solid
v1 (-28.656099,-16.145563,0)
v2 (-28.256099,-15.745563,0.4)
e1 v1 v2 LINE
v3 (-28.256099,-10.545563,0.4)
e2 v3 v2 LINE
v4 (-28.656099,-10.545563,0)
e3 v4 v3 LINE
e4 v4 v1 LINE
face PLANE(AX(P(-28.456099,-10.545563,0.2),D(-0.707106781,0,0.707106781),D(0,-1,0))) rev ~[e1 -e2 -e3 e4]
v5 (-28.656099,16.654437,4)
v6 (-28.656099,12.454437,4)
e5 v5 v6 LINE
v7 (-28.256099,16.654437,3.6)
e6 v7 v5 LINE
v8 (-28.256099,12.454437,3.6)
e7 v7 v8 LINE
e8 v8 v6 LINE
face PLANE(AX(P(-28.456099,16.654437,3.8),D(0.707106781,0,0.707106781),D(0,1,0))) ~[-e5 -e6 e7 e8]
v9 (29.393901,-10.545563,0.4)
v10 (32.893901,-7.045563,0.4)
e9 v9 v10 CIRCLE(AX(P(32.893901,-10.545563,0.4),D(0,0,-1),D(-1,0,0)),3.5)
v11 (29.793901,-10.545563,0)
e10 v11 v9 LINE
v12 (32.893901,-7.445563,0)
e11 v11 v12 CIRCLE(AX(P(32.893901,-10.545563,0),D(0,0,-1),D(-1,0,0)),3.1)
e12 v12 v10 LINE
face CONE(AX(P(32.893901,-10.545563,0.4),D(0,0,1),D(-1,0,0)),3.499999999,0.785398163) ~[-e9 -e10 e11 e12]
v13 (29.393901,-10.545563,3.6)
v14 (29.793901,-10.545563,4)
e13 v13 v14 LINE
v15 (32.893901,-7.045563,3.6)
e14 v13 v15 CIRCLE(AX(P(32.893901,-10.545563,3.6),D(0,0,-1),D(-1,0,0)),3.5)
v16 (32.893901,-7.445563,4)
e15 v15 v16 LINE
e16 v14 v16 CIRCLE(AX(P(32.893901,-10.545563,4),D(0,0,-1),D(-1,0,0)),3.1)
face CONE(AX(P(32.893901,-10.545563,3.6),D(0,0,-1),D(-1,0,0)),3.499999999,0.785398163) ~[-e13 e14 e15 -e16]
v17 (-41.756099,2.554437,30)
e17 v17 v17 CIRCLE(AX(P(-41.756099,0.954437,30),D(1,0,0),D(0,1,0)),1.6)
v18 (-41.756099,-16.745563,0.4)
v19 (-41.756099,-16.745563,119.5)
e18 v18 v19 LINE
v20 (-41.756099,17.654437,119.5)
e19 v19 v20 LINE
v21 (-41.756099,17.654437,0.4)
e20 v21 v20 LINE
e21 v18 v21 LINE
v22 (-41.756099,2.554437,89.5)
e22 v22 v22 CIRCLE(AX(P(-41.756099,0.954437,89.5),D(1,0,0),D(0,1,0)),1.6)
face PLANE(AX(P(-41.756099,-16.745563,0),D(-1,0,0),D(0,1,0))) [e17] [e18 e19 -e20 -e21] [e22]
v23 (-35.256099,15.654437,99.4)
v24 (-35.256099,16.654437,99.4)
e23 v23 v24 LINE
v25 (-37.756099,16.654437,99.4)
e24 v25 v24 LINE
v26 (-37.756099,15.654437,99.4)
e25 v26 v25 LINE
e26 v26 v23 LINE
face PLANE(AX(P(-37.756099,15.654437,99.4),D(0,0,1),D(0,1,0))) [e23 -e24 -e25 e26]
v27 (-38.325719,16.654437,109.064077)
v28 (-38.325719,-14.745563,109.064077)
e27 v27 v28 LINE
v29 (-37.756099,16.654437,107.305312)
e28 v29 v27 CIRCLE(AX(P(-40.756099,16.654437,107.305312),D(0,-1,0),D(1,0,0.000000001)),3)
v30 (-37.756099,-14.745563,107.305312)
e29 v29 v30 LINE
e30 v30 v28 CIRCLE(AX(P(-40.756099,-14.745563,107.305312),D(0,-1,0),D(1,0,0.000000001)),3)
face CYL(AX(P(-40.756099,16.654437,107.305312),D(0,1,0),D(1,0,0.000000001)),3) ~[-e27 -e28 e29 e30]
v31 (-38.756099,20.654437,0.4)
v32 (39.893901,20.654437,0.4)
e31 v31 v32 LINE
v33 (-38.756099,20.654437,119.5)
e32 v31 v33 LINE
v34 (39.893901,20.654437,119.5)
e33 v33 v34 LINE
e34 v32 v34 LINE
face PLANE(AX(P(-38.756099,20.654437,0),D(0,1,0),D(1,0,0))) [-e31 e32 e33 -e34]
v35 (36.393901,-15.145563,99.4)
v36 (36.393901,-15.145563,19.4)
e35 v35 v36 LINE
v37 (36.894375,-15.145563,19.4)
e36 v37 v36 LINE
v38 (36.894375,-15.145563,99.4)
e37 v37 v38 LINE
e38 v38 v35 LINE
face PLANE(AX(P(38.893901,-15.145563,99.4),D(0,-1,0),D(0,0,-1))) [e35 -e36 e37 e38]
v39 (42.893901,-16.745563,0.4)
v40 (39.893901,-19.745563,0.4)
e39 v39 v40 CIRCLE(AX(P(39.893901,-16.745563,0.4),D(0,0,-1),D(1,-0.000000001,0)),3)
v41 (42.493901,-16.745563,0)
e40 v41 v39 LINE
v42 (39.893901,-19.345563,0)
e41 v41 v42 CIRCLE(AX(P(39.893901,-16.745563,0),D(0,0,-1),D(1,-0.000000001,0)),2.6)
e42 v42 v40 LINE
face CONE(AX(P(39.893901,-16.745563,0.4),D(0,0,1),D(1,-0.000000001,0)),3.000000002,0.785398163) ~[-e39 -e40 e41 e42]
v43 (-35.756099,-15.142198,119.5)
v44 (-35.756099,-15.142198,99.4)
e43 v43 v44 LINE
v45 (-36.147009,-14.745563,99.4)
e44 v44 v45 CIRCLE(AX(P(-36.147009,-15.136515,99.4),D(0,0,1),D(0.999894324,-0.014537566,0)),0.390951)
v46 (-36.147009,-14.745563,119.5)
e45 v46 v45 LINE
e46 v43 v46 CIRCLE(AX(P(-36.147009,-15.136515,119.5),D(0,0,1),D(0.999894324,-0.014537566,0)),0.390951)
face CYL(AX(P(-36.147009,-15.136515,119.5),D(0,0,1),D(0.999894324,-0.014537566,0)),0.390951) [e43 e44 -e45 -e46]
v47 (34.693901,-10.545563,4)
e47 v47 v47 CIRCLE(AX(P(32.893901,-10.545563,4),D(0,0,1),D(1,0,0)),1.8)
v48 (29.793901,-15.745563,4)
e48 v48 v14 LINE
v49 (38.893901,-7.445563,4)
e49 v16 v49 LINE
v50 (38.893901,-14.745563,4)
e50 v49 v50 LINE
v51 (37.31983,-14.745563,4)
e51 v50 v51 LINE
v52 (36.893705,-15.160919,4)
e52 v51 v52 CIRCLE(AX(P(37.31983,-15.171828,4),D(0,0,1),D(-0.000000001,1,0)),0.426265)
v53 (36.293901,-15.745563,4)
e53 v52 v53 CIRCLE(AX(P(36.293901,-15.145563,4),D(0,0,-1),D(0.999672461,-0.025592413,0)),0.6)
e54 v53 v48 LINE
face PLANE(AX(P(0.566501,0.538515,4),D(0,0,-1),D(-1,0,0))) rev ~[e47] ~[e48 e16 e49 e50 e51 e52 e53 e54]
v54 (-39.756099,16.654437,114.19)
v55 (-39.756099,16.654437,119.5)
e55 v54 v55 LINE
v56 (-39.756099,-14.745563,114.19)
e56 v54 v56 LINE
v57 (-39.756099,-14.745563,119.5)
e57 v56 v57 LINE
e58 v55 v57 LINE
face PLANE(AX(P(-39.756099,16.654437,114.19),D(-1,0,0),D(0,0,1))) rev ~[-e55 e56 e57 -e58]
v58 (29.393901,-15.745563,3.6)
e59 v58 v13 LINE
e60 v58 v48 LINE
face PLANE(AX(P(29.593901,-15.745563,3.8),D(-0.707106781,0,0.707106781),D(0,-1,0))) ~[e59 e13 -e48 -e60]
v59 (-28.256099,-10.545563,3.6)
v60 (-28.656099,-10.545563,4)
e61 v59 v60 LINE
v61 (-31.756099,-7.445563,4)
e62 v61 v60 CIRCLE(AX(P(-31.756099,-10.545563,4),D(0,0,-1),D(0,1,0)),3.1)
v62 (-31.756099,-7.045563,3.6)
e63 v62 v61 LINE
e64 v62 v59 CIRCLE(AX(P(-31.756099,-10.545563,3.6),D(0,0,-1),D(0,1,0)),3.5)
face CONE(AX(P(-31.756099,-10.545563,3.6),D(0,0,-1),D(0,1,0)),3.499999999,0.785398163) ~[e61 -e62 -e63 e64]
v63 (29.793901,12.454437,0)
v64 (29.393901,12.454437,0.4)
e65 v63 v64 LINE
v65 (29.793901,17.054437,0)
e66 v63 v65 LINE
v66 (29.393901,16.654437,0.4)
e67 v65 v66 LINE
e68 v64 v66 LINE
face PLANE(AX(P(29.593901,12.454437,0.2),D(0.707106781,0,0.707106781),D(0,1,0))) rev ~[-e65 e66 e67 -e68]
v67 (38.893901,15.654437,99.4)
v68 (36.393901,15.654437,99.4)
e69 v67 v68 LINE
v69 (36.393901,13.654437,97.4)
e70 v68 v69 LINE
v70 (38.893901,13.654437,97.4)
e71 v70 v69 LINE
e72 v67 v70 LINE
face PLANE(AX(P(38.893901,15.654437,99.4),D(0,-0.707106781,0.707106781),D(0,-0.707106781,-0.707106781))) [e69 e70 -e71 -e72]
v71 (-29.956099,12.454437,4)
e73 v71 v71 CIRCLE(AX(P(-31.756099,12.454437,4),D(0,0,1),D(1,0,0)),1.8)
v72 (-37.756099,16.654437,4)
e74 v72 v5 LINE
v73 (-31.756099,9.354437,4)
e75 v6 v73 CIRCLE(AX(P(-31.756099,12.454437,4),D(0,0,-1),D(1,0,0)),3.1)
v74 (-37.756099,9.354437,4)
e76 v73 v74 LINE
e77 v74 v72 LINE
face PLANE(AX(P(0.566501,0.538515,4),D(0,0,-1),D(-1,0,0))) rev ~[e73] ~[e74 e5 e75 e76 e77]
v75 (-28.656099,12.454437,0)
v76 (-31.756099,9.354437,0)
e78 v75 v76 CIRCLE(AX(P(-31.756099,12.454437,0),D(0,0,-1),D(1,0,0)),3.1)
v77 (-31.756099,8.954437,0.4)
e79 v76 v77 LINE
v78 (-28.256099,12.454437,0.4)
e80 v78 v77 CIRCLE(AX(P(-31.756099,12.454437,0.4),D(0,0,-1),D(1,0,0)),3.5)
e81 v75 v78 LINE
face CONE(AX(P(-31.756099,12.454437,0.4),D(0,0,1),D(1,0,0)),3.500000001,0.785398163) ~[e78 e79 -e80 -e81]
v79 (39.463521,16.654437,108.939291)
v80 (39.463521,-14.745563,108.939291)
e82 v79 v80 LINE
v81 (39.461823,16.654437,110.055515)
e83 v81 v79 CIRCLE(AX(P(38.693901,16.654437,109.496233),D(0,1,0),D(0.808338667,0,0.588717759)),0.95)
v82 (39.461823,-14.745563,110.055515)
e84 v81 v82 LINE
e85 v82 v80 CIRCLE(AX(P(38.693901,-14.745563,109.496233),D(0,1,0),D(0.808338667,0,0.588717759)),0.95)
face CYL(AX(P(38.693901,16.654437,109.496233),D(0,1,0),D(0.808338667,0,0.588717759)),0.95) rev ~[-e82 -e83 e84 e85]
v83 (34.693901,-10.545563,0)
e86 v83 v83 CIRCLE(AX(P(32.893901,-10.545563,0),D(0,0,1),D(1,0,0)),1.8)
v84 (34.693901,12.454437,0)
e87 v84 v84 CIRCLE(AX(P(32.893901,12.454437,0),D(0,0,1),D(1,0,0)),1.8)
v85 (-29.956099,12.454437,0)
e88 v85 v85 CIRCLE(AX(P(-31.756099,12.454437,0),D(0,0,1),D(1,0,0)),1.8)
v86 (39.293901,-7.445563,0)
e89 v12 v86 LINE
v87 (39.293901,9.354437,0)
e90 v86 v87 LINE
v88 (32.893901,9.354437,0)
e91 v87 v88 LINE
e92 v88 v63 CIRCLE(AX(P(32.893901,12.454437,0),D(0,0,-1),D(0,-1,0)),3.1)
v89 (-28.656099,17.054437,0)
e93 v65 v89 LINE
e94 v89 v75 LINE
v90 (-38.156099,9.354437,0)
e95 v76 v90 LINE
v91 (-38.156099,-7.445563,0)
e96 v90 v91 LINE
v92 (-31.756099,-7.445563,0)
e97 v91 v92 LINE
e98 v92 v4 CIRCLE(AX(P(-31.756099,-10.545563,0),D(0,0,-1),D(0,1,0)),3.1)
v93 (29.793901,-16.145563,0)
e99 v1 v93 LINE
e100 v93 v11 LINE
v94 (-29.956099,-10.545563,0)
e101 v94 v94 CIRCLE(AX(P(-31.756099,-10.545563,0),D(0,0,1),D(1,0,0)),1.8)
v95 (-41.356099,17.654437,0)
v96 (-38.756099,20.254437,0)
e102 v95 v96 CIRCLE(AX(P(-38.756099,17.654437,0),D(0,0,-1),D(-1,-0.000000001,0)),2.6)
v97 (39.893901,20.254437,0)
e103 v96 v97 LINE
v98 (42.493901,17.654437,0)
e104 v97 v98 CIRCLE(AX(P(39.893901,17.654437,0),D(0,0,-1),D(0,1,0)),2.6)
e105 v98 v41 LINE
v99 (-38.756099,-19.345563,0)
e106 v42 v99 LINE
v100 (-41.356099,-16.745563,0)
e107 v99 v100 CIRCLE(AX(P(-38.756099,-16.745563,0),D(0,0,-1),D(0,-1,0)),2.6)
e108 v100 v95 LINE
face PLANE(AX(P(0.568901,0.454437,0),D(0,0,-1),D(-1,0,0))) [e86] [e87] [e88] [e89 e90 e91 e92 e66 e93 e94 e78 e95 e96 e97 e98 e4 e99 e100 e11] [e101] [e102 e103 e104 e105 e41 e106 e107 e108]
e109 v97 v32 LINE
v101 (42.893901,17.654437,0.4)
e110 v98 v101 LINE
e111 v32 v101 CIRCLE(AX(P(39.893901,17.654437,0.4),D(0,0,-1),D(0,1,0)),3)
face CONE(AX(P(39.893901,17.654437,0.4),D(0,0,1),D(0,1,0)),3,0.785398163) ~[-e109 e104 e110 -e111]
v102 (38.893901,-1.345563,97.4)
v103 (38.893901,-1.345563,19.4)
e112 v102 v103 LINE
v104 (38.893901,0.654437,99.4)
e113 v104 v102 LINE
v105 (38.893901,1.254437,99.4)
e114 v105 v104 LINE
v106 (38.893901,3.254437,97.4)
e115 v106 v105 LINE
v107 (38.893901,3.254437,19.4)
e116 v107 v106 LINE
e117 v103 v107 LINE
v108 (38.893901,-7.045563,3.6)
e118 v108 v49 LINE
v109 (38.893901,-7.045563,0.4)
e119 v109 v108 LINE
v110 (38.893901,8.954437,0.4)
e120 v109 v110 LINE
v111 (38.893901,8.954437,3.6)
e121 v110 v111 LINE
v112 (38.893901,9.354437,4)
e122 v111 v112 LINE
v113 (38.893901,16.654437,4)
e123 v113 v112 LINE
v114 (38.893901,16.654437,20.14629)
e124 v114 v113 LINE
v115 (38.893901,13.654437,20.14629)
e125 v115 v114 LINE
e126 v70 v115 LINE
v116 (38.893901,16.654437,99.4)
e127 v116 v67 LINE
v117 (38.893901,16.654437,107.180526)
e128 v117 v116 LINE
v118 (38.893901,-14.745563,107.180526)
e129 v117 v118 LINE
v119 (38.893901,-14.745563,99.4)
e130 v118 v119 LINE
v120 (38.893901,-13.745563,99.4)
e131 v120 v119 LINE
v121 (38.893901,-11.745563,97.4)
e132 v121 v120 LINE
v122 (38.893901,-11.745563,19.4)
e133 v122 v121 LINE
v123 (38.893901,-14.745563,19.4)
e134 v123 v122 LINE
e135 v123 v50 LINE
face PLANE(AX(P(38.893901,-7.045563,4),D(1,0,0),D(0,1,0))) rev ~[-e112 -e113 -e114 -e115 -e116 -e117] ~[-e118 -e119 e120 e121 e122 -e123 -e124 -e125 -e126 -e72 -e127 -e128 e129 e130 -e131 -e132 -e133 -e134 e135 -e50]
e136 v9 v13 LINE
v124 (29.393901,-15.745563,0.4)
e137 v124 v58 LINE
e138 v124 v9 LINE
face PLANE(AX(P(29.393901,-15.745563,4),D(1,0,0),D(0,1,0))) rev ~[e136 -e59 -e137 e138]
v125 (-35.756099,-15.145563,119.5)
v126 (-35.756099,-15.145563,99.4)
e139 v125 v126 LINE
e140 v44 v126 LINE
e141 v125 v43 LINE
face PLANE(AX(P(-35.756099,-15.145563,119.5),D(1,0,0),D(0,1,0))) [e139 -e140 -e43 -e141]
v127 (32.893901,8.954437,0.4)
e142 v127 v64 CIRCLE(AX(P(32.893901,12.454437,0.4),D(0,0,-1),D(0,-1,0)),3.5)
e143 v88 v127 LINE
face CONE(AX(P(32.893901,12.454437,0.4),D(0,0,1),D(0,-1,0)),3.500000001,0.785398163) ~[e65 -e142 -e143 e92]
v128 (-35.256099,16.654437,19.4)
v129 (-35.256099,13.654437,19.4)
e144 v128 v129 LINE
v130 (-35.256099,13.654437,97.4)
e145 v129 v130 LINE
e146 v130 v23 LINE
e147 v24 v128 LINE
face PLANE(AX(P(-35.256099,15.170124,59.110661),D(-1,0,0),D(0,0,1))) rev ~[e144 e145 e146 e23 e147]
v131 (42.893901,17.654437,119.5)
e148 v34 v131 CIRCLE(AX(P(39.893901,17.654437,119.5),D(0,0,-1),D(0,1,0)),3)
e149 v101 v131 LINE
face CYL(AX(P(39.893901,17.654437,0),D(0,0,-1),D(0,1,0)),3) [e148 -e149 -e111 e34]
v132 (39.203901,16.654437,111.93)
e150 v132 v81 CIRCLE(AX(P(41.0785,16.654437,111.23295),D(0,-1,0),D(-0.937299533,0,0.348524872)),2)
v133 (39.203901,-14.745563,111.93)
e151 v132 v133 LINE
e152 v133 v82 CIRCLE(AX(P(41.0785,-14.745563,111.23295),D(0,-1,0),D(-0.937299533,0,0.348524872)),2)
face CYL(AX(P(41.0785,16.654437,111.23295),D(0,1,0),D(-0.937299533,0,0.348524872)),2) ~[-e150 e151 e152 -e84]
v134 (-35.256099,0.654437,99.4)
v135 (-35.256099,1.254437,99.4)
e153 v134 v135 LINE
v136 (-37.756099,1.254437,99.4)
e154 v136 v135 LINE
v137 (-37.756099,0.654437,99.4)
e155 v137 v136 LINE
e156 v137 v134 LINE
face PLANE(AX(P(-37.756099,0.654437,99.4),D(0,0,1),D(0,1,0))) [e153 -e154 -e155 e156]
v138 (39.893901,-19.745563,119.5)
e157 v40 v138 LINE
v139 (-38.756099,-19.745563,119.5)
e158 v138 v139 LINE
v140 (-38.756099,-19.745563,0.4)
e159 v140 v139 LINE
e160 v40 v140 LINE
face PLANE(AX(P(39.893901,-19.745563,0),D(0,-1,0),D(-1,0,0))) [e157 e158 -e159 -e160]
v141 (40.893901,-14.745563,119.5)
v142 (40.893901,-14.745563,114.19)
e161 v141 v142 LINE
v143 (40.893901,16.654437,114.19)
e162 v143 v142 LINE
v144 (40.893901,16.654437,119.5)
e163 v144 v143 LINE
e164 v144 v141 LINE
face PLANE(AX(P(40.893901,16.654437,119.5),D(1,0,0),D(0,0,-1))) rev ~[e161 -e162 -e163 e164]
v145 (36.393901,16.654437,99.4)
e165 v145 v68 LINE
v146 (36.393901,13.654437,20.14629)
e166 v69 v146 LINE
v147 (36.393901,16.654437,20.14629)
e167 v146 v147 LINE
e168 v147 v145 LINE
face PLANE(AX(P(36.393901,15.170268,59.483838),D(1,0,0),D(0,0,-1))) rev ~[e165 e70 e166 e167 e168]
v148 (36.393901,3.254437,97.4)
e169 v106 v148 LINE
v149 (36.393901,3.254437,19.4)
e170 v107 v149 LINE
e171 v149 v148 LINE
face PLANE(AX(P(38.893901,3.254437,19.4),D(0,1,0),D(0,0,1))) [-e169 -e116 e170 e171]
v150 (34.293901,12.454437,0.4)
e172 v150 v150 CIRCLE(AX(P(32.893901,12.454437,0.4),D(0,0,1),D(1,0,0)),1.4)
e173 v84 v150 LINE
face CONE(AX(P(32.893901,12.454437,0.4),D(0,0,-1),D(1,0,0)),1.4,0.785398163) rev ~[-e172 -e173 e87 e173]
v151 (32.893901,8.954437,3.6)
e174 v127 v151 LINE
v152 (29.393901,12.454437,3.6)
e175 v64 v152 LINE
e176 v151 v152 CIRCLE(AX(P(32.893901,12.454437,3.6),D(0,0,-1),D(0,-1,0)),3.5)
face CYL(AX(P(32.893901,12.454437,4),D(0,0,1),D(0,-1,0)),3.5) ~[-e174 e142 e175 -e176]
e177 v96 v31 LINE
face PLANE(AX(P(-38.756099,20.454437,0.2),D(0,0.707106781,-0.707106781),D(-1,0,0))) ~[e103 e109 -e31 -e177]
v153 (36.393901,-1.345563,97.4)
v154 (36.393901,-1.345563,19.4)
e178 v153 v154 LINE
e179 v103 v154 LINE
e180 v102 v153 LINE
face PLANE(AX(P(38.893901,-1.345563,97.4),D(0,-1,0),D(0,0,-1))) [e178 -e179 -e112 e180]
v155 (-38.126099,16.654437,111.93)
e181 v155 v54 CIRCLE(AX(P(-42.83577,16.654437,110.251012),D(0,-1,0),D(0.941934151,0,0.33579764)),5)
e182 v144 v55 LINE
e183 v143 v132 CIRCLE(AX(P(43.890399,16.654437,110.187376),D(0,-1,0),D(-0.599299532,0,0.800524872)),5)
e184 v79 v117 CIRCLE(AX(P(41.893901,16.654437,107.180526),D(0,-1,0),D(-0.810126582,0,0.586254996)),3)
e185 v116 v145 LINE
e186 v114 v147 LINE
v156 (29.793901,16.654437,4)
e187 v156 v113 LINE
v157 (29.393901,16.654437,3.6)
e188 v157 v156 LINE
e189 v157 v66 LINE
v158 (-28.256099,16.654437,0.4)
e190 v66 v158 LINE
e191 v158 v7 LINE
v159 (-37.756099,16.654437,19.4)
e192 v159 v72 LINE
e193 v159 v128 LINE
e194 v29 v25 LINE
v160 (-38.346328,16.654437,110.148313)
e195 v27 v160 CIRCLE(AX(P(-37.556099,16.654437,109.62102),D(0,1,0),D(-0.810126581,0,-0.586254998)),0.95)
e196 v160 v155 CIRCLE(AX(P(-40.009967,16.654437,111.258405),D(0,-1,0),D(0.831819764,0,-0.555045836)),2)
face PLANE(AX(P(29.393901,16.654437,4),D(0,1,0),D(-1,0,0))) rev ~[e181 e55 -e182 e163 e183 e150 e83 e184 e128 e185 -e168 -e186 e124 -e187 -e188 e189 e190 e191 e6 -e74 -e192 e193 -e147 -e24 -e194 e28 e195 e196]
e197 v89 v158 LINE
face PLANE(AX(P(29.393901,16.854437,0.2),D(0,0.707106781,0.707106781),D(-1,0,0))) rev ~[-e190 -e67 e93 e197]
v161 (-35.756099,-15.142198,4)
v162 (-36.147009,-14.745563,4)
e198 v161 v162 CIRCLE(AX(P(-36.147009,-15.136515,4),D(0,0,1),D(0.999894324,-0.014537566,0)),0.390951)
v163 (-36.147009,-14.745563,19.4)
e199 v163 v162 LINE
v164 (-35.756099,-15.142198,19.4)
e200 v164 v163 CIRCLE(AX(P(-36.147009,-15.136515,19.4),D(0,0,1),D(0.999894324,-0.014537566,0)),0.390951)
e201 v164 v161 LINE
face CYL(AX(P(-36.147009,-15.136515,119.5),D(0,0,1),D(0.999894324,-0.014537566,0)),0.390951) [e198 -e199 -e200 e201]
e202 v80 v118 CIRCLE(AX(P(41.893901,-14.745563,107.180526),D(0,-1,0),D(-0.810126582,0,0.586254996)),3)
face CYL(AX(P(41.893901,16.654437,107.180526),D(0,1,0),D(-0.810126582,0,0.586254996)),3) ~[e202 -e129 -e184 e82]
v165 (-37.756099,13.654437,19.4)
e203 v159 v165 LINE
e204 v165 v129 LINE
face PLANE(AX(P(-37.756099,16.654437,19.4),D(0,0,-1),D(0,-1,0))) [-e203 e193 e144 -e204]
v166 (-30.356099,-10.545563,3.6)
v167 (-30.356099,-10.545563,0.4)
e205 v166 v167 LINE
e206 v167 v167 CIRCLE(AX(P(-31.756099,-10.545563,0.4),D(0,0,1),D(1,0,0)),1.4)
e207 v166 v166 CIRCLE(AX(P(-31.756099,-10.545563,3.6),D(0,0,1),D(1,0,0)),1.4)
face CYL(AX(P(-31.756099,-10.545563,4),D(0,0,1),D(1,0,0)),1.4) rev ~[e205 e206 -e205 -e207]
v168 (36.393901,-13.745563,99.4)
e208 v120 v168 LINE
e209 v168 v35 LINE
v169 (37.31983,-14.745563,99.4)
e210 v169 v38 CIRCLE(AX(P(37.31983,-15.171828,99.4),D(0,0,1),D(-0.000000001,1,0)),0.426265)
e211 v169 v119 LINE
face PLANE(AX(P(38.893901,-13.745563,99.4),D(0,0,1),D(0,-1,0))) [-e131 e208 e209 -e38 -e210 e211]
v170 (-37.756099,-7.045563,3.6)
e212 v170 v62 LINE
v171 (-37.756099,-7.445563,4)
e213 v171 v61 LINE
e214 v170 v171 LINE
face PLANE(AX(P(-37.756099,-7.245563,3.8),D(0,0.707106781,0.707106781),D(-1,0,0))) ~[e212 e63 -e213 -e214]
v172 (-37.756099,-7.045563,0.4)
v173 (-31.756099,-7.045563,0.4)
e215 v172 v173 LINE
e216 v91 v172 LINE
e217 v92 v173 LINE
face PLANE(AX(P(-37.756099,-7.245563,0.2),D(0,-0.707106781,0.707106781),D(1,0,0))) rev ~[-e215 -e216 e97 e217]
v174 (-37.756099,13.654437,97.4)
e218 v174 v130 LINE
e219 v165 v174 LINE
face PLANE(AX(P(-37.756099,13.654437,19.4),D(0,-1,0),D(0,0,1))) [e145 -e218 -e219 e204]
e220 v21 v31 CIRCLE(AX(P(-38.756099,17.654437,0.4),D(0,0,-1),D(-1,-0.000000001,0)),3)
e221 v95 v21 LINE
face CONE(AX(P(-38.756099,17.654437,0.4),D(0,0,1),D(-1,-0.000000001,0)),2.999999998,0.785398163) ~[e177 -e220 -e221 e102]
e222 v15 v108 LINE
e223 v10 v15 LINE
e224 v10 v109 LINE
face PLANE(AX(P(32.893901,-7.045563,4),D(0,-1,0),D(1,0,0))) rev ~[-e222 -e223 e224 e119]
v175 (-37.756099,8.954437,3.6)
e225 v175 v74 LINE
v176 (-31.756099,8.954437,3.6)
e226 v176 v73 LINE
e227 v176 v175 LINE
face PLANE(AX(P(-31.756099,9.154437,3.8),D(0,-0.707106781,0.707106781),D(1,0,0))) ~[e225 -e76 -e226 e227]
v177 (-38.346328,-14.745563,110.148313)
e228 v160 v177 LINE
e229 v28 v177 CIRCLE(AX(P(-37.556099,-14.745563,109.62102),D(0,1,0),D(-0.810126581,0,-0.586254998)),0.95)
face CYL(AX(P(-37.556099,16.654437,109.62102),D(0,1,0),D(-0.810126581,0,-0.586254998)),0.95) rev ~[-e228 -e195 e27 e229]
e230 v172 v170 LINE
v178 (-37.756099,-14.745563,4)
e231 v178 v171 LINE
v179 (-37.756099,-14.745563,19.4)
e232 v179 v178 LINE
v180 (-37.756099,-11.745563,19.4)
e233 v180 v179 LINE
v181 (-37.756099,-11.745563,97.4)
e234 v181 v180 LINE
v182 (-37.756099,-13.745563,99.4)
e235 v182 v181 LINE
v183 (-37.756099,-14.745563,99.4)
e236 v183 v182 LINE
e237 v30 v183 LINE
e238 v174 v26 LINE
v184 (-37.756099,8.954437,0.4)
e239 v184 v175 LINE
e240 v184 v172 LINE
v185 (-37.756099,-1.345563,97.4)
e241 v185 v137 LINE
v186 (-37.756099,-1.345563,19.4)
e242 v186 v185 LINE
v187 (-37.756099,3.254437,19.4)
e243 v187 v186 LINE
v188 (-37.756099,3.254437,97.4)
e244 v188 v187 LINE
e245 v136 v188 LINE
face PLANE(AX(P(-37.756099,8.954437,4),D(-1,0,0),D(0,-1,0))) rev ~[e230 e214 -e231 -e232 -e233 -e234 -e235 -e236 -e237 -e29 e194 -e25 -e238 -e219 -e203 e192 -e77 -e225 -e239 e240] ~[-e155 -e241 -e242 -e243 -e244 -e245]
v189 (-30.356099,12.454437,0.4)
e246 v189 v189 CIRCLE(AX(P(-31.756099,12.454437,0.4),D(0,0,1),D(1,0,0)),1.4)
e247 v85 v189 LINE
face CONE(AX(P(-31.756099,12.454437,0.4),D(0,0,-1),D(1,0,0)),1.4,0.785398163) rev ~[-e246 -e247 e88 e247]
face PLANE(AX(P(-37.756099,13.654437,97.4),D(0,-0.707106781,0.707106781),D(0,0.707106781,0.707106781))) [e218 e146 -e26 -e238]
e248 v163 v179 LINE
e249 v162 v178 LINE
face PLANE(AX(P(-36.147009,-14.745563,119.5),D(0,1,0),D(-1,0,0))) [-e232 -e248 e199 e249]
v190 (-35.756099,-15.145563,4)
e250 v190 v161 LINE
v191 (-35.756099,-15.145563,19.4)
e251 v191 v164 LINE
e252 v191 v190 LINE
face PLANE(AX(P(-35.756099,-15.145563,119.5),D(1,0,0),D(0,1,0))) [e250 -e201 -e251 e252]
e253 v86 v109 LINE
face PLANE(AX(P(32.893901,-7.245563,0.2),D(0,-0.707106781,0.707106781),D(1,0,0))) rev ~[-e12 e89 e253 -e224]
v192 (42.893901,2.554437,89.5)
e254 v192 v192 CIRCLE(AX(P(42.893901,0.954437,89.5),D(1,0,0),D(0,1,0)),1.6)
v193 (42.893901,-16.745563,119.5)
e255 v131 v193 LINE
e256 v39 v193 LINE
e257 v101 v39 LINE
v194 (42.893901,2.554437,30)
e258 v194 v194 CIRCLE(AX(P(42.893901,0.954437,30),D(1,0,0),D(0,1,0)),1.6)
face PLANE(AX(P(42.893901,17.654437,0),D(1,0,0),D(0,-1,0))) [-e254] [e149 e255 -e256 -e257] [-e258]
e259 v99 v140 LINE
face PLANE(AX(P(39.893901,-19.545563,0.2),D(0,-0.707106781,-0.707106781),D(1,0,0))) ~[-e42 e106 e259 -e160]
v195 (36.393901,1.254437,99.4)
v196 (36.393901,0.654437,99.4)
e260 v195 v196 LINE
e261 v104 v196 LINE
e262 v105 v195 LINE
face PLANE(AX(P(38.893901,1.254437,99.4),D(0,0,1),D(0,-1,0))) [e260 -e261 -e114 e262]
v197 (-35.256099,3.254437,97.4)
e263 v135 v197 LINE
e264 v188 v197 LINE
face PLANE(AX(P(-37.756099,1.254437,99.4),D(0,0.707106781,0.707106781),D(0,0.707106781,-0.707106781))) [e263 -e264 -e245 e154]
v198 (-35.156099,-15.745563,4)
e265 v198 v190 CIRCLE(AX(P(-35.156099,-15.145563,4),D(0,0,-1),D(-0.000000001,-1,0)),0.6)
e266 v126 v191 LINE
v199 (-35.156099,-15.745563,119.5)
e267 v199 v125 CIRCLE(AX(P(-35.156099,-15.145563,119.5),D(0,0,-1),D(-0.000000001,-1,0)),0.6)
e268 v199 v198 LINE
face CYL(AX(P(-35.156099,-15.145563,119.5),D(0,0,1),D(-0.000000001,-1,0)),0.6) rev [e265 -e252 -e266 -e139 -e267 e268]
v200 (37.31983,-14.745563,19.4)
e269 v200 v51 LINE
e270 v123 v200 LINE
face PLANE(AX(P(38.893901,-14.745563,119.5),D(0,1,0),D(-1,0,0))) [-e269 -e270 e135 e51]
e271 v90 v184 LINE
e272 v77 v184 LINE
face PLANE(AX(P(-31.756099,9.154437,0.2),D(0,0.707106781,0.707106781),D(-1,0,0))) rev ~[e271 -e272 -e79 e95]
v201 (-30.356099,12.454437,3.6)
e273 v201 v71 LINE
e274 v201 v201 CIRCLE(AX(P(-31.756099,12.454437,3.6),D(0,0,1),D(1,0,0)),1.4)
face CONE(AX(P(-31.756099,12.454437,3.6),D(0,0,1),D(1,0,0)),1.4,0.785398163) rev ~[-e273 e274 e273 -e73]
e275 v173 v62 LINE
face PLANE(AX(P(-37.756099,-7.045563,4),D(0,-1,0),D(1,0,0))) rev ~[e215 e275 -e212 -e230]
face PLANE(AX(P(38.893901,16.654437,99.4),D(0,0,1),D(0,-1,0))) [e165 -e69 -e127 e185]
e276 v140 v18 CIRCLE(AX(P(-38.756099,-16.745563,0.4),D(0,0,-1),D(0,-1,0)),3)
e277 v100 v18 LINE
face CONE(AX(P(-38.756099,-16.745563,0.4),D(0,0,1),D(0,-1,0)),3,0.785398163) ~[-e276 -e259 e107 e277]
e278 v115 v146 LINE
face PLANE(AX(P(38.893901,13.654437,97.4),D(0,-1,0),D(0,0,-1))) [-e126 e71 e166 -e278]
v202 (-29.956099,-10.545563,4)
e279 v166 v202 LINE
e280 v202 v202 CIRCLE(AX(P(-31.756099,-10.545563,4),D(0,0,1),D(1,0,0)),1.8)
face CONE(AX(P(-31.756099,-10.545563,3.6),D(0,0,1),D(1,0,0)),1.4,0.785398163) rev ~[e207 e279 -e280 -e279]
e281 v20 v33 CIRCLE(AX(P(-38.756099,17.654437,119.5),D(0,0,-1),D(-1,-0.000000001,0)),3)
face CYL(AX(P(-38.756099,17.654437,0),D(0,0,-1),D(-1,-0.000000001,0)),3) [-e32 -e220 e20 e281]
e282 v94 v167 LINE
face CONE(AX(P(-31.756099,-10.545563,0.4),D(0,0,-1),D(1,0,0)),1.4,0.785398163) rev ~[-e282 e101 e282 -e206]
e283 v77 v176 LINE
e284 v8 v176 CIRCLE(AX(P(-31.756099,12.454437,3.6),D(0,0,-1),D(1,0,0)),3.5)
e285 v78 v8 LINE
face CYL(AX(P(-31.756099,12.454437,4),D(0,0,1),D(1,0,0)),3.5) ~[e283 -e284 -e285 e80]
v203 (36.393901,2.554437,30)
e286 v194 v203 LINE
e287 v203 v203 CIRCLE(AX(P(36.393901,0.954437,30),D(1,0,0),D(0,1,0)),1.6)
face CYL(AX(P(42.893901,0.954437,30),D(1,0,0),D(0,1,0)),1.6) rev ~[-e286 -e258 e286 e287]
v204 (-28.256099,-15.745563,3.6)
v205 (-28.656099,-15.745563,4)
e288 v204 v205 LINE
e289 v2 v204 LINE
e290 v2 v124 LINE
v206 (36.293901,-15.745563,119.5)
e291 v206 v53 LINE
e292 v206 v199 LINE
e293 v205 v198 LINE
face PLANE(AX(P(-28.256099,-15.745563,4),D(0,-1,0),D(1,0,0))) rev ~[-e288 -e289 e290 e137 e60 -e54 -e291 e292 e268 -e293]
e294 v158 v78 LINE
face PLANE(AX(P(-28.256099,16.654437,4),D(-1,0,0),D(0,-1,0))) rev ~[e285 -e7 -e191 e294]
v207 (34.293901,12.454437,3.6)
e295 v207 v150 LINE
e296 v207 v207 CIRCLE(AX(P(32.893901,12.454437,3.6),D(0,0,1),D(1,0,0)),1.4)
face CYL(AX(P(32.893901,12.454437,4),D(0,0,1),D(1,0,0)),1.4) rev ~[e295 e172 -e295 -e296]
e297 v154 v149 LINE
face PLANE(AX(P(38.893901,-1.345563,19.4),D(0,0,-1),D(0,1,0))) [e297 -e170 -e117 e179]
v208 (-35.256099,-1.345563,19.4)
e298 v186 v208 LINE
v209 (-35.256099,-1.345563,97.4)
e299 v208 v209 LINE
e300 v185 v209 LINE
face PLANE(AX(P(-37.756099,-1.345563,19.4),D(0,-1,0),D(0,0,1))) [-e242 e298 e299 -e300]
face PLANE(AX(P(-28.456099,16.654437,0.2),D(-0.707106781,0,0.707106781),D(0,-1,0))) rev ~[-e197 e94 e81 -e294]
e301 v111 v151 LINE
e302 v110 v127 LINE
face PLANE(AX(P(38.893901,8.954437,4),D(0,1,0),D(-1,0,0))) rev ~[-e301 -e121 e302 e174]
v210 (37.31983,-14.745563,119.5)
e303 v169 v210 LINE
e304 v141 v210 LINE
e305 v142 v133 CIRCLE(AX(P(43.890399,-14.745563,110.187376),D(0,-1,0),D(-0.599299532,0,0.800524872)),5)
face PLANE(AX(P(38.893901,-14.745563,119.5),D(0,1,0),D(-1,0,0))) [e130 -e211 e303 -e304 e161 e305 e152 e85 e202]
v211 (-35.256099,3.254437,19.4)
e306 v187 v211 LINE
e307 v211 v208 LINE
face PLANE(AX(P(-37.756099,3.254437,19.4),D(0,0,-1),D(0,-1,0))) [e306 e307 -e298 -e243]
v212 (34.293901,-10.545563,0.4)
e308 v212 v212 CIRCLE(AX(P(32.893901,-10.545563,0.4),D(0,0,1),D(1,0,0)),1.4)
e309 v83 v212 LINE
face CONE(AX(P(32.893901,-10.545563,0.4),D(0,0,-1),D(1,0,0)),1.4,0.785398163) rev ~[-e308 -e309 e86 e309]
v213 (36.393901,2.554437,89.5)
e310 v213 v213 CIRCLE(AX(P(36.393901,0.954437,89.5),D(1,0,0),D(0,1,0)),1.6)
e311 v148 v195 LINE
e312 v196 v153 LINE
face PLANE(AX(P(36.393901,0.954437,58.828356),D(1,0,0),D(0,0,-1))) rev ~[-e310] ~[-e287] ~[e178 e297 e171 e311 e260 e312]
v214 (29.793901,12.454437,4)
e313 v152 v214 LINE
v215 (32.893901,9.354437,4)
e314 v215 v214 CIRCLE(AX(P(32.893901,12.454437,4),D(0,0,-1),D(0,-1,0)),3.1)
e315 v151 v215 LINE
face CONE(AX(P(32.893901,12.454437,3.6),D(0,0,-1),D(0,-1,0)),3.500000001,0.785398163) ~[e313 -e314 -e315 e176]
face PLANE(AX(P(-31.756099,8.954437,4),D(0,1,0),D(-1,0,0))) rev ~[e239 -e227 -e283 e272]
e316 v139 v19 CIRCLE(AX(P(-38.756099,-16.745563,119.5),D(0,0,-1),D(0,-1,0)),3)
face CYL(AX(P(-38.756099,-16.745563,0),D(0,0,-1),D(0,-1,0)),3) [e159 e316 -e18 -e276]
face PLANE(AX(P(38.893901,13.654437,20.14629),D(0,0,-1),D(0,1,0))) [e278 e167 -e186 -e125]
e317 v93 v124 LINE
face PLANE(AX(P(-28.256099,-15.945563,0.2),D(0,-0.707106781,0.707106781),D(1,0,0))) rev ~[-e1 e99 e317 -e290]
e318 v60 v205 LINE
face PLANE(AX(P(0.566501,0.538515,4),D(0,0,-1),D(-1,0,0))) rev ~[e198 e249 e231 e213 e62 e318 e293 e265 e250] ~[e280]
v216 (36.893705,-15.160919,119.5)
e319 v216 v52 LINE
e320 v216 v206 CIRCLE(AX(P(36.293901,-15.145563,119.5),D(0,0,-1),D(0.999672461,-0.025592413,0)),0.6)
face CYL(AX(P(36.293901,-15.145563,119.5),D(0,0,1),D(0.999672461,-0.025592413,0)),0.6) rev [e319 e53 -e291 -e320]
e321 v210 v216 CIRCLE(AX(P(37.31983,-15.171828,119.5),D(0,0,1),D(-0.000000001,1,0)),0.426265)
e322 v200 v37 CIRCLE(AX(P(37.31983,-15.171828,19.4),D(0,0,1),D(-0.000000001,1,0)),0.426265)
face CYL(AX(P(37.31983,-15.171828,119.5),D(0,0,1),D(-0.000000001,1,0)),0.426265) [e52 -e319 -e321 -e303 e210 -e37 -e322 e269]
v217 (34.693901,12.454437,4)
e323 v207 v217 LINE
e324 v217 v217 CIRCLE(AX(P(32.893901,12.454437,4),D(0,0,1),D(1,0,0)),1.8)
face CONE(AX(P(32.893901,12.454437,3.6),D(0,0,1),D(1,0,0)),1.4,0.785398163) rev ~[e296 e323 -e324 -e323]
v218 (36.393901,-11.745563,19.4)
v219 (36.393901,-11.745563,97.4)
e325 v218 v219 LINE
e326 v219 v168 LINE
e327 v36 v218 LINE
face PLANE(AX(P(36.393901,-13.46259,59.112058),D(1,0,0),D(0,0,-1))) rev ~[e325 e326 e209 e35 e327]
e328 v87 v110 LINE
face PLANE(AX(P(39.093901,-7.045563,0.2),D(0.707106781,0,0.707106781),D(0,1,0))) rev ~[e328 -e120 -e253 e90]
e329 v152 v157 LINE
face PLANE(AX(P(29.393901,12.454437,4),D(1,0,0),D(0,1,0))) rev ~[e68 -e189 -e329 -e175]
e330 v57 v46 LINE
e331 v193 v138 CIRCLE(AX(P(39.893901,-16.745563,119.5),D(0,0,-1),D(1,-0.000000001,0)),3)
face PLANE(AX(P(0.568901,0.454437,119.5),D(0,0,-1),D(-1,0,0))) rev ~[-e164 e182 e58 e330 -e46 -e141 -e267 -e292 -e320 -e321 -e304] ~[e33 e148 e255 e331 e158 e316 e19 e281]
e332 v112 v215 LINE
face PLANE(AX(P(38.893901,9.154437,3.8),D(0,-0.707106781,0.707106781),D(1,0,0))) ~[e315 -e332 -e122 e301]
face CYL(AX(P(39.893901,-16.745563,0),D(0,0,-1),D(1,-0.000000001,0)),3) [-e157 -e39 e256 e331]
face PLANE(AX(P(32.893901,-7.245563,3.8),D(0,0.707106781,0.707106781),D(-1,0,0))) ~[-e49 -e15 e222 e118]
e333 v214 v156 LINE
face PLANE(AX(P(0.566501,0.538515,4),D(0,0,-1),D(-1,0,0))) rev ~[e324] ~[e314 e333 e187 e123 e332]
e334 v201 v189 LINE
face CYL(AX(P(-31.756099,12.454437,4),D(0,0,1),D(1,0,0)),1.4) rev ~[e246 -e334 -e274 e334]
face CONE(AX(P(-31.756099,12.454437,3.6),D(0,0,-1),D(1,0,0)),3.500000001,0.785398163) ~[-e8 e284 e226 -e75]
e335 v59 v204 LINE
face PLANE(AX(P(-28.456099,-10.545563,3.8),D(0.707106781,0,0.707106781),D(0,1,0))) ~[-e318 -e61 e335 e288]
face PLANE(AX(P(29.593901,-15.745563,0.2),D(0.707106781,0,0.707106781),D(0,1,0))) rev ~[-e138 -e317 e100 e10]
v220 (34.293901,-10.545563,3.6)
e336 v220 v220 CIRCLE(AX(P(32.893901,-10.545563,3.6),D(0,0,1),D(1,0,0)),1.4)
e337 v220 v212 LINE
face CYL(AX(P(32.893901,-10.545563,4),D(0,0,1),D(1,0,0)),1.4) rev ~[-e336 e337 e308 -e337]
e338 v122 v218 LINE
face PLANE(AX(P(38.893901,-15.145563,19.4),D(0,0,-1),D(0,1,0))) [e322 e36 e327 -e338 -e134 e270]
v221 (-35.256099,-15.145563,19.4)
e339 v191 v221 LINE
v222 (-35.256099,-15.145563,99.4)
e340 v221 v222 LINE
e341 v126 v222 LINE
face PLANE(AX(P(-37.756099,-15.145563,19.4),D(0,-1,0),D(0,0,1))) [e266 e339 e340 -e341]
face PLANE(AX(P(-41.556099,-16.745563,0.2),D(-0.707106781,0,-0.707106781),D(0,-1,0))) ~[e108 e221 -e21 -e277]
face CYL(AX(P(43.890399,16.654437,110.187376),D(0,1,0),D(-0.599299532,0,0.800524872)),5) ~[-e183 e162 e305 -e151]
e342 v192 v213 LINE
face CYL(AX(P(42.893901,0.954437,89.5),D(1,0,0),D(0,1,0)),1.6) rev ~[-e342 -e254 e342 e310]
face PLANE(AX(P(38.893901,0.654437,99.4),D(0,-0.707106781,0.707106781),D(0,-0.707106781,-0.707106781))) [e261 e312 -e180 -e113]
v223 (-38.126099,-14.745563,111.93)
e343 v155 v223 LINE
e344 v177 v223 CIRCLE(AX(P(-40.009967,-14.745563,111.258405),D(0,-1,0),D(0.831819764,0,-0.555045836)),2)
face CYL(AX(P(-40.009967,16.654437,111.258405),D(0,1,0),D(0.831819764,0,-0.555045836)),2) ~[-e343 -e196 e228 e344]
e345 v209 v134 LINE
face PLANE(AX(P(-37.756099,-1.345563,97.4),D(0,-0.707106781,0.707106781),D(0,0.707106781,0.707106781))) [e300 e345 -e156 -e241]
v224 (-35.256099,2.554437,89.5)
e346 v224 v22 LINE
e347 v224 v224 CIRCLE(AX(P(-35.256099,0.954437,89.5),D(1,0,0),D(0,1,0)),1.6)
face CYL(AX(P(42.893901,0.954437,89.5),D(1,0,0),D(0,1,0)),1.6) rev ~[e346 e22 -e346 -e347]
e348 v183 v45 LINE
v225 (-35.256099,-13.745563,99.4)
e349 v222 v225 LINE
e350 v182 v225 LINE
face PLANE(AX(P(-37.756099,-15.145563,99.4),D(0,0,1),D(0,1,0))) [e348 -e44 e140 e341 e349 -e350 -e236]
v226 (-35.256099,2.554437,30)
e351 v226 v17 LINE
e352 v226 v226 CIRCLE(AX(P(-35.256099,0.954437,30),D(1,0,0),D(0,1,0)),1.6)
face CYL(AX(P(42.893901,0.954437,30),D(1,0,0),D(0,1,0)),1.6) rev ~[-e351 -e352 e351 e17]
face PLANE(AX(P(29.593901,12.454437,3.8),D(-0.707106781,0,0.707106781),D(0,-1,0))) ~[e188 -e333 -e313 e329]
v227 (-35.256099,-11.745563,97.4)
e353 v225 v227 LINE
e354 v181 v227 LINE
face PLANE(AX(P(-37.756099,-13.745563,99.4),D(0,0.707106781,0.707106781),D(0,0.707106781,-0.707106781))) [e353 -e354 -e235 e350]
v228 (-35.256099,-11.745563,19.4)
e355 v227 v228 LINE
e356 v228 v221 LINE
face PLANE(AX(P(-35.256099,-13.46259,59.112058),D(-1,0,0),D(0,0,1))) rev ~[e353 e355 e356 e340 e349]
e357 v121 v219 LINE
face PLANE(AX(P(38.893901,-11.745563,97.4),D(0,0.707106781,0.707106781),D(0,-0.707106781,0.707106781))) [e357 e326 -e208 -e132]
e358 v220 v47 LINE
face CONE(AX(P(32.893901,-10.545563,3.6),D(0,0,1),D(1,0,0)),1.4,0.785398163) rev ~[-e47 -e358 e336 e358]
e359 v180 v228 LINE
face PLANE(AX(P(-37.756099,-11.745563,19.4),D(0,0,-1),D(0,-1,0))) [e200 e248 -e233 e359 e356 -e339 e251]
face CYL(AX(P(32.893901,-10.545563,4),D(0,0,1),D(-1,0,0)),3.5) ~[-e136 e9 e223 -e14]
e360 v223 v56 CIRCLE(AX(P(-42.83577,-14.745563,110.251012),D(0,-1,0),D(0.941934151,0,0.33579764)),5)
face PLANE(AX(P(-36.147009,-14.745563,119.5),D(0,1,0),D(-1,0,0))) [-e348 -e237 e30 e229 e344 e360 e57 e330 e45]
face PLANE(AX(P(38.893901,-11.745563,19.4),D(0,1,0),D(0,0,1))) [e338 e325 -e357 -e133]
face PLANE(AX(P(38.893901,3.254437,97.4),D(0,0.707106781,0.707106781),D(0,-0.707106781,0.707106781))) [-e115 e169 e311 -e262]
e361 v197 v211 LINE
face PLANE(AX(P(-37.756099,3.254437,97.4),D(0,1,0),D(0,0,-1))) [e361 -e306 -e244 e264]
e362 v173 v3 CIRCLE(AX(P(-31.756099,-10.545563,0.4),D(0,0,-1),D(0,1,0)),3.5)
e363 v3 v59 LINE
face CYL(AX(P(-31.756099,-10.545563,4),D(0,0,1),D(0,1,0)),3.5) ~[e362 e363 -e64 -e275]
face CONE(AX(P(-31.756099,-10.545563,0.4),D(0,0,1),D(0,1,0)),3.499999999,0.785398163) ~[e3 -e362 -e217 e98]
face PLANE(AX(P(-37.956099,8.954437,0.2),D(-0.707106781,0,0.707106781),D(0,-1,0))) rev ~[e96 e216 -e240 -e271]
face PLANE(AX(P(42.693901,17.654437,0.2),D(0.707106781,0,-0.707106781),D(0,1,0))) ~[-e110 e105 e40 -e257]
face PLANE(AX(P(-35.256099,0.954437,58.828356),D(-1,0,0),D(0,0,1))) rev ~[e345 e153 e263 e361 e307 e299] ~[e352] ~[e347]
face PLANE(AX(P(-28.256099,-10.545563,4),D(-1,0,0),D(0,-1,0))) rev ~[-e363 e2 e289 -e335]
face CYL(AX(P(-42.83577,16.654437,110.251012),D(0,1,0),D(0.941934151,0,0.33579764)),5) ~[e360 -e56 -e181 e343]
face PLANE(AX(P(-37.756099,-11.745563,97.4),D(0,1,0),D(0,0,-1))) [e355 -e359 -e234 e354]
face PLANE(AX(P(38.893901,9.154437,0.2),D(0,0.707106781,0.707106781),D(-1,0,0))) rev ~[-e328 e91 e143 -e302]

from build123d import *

# Parameters (mm, degrees)
EXTRUDE_1_DEPTH     = 119.5
CUT_EXTRUDE_1_DEPTH = 115.5
SKETCH_3_R          = 1.4
CUT_EXTRUDE_2_DEPTH = 4
EXTRUDE_2_DEPTH     = 2.5
EXTRUDE_3_DEPTH     = 2.5
CUT_EXTRUDE_3_DEPTH = 31.4
CHAMFER_1_SIZE      = 0.4
SKETCH_3_3_R        = 1.4
CUT_EXTRUDE_4_DEPTH = 2.5
SKETCH_3_4_R        = 1.4
CUT_EXTRUDE_5_DEPTH = 4
SKETCH_9_R          = 1.6
CUT_EXTRUDE_6_DEPTH = 148.893469266
CHAMFER_4_SIZE      = 0.4
CHAMFER_5_SIZE      = 0.4


with BuildPart() as part:
    # 草图1 → 凸台-拉伸1 (new body)
    with BuildSketch(Plane.XY):
        with BuildLine():
            Line((-38.75609893, 20.654436608), (39.89390107, 20.654436608))
            ThreePointArc((39.89390107, 20.654436608), (42.015221413, 19.775756952), (42.89390107, 17.654436608))
            Line((42.89390107, 17.654436608), (42.89390107, -16.745563392))
            ThreePointArc((42.89390107, -16.745563392), (42.015221413, -18.866883735), (39.89390107, -19.745563392))
            Line((39.89390107, -19.745563392), (-38.75609893, -19.745563392))
            ThreePointArc((-38.75609893, -19.745563392), (-40.877419274, -18.866883735), (-41.75609893, -16.745563392))
            Line((-41.75609893, -16.745563392), (-41.75609893, 17.654436608))
            ThreePointArc((-41.75609893, 17.654436608), (-40.877419274, 19.775756952), (-38.75609893, 20.654436608))
        make_face()
    extrude(amount=EXTRUDE_1_DEPTH)

    # 草图2 → 切除-拉伸1 (cut)
    with BuildSketch(Plane.XY.offset(119.5)):
        with BuildLine():
            Line((-37.75609893, 16.654436608), (38.89390107, 16.654436608))
            Line((38.89390107, 16.654436608), (38.89390107, -14.745563392))
            Line((38.89390107, -14.745563392), (37.319829514, -14.745563392))
            ThreePointArc((37.319829514, -14.745563392), (37.022296896, -14.866580802), (36.893704546, -15.160918839))
            ThreePointArc((36.893704546, -15.160918839), (36.712700981, -15.575222133), (36.29390107, -15.745563392))
            Line((36.29390107, -15.745563392), (-35.15609893, -15.745563392))
            ThreePointArc((-35.15609893, -15.745563392), (-35.580362999, -15.56982746), (-35.75609893, -15.145563392))
            Line((-35.75609893, -15.145563392), (-35.75609893, -15.142198174))
            ThreePointArc((-35.75609893, -15.142198174), (-35.868562438, -14.862087147), (-36.147008919, -14.745563392))
            Line((-36.147008919, -14.745563392), (-37.75609893, -14.745563392))
            Line((-37.75609893, -14.745563392), (-37.75609893, 16.654436608))
        make_face()
    extrude(amount=-CUT_EXTRUDE_1_DEPTH, mode=Mode.SUBTRACT)

    # 草图3 → 切除-拉伸2 (cut)
    with BuildSketch(Plane.XY.offset(4)):
        with BuildLine():
            Line((29.39390107, 16.654436608), (-28.25609893, 16.654436608))
            Line((-28.25609893, 16.654436608), (-28.25609893, 12.454436608))
            ThreePointArc((-28.25609893, 12.454436608), (-29.281225196, 9.979562874), (-31.75609893, 8.954436608))
            Line((-31.75609893, 8.954436608), (-37.75609893, 8.954436608))
            Line((-37.75609893, 8.954436608), (-37.75609893, -7.045563392))
            Line((-37.75609893, -7.045563392), (-31.75609893, -7.045563392))
            ThreePointArc((-31.75609893, -7.045563392), (-29.281225196, -8.070689657), (-28.25609893, -10.545563392))
            Line((-28.25609893, -10.545563392), (-28.25609893, -15.745563392))
            Line((-28.25609893, -15.745563392), (29.39390107, -15.745563392))
            Line((29.39390107, -15.745563392), (29.39390107, -10.545563392))
            ThreePointArc((29.39390107, -10.545563392), (30.419027336, -8.070689657), (32.89390107, -7.045563392))
            Line((32.89390107, -7.045563392), (38.89390107, -7.045563392))
            Line((38.89390107, -7.045563392), (38.89390107, 8.954436608))
            Line((38.89390107, 8.954436608), (32.89390107, 8.954436608))
            ThreePointArc((32.89390107, 8.954436608), (30.419027336, 9.979562874), (29.39390107, 12.454436608))
            Line((29.39390107, 12.454436608), (29.39390107, 16.654436608))
        make_face()
        with Locations((-31.75609893, -10.545563392)):
            Circle(SKETCH_3_R)
        with Locations((32.89390107, 12.454436608)):
            Circle(SKETCH_3_R)
        with Locations((32.89390107, -10.545563392)):
            Circle(SKETCH_3_R)
    extrude(amount=-CUT_EXTRUDE_2_DEPTH, mode=Mode.SUBTRACT)

    # 草图4 → 凸台-拉伸2 (add)
    with BuildSketch(Plane.ZY.offset(-38.89390107)):
        Polygon((19.4, 3.254436608), (97.4, 3.254436608), (99.4, 1.254436608), (99.4, 0.654436608), (97.4, -1.345563392), (19.4, -1.345563392), align=None)
        Polygon((20.146290163, 16.654436608), (99.4, 16.654436608), (99.4, 15.654436608), (97.4, 13.654436608), (20.146290163, 13.654436608), align=None)
        Polygon((19.4, -11.745563392), (97.4, -11.745563392), (99.4, -13.745563392), (99.4, -15.145563392), (19.4, -15.145563392), align=None)
    extrude(amount=EXTRUDE_2_DEPTH)

    # 草图6 → 凸台-拉伸3 (add)
    with BuildSketch(Plane(origin=(-37.75609893, 0, 0), x_dir=(0, 0, -1), z_dir=(1, 0, 0))):
        Polygon((-99.4, 16.654436608), (-19.4, 16.654436608), (-19.4, 13.654436608), (-97.4, 13.654436608), (-99.4, 15.654436608), align=None)
        Polygon((-97.4, 3.254436608), (-19.4, 3.254436608), (-19.4, -1.345563392), (-97.4, -1.345563392), (-99.4, 0.654436608), (-99.4, 1.254436608), align=None)
        Polygon((-97.4, -11.745563392), (-19.4, -11.745563392), (-19.4, -15.145563392), (-99.4, -15.145563392), (-99.4, -13.745563392), align=None)
    extrude(amount=EXTRUDE_3_DEPTH)

    # 草图8 → 切除-拉伸3 (cut)
    with BuildSketch(Plane.XZ.offset(-16.654436608)):
        with BuildLine():
            Line((-39.75609893, 114.19), (-39.75609893, 119.5))
            Line((-39.75609893, 119.5), (-34.75609893, 119.5))
            Line((-34.75609893, 119.5), (-34.75609893, 107.305312266))
            Line((-34.75609893, 107.305312266), (-37.75609893, 107.305312266))
            ThreePointArc((-37.75609893, 107.305312266), (-37.902054498, 108.229666299), (-38.325719183, 109.064077255))
            ThreePointArc((-38.325719183, 109.064077255), (-38.505927368, 109.602965716), (-38.346327705, 110.148313046))
            ThreePointArc((-38.346327705, 110.148313046), (-38.025073016, 111.013058128), (-38.12609893, 111.93))
            ThreePointArc((-38.12609893, 111.93), (-38.780481743, 113.175843369), (-39.75609893, 114.19))
        make_face()
        with BuildLine():
            Line((38.89390107, 107.18052563), (35.89390107, 107.18052563))
            Line((35.89390107, 107.18052563), (35.89390107, 119.5))
            Line((35.89390107, 119.5), (40.89390107, 119.5))
            Line((40.89390107, 119.5), (40.89390107, 114.19))
            ThreePointArc((40.89390107, 114.19), (39.886150452, 113.181702896), (39.20390107, 111.93))
            ThreePointArc((39.20390107, 111.93), (39.097168141, 110.960326838), (39.461822803, 110.055514737))
            ThreePointArc((39.461822803, 110.055514737), (39.64389997, 109.497678446), (39.463521323, 108.939290618))
            ThreePointArc((39.463521323, 108.939290618), (39.039856638, 108.104879663), (38.89390107, 107.18052563))
        make_face()
    extrude(amount=CUT_EXTRUDE_3_DEPTH, mode=Mode.SUBTRACT)

    # 倒角1
    chamfer_1_edges = [part.edges().sort_by_distance(p)[0] for p in [
        (-40.877419274, 19.775756952, 0),
        (-41.75609893, 0.454436608, 0),
        (-40.877419274, -18.866883735, 0),
        (0.56890107, -19.745563392, 0),
        (42.015221413, -18.866883735, 0),
        (42.89390107, 0.454436608, 0),
        (42.015221413, 19.775756952, 0),
        (0.56890107, 20.654436608, 0),
    ]]
    chamfer(chamfer_1_edges, length=CHAMFER_1_SIZE)

    # 草图3<3> → 切除-拉伸4 (cut)
    with BuildSketch(Plane.XY.offset(4)):
        with Locations((-31.75609893, -10.545563392)):
            Circle(SKETCH_3_3_R)
        with Locations((32.89390107, 12.454436608)):
            Circle(SKETCH_3_3_R)
        with Locations((32.89390107, -10.545563392)):
            Circle(SKETCH_3_3_R)
        with Locations((-31.75609893, 12.454436608)):
            Circle(SKETCH_3_3_R)
        with BuildLine():
            Line((-28.25609893, 16.654436608), (29.39390107, 16.654436608))
            Line((29.39390107, 16.654436608), (29.39390107, 12.454436608))
            ThreePointArc((29.39390107, 12.454436608), (30.419027336, 9.979562874), (32.89390107, 8.954436608))
            Line((32.89390107, 8.954436608), (38.89390107, 8.954436608))
            Line((38.89390107, 8.954436608), (38.89390107, -7.045563392))
            Line((38.89390107, -7.045563392), (32.89390107, -7.045563392))
            ThreePointArc((32.89390107, -7.045563392), (30.419027336, -8.070689657), (29.39390107, -10.545563392))
            Line((29.39390107, -10.545563392), (29.39390107, -15.745563392))
            Line((29.39390107, -15.745563392), (-28.25609893, -15.745563392))
            Line((-28.25609893, -15.745563392), (-28.25609893, -10.545563392))
            ThreePointArc((-28.25609893, -10.545563392), (-29.281225196, -8.070689657), (-31.75609893, -7.045563392))
            Line((-31.75609893, -7.045563392), (-37.75609893, -7.045563392))
            Line((-37.75609893, -7.045563392), (-37.75609893, 8.954436608))
            Line((-37.75609893, 8.954436608), (-31.75609893, 8.954436608))
            ThreePointArc((-31.75609893, 8.954436608), (-29.281225196, 9.979562874), (-28.25609893, 12.454436608))
            Line((-28.25609893, 12.454436608), (-28.25609893, 16.654436608))
        make_face()
    extrude(amount=-CUT_EXTRUDE_4_DEPTH, mode=Mode.SUBTRACT)

    # 草图3<4> → 切除-拉伸5 (cut)
    with BuildSketch(Plane.XY.offset(4)):
        with Locations((-31.75609893, -10.545563392)):
            Circle(SKETCH_3_4_R)
        with Locations((32.89390107, 12.454436608)):
            Circle(SKETCH_3_4_R)
        with Locations((32.89390107, -10.545563392)):
            Circle(SKETCH_3_4_R)
        with Locations((-31.75609893, 12.454436608)):
            Circle(SKETCH_3_4_R)
        with BuildLine():
            Line((-28.25609893, 16.654436608), (29.39390107, 16.654436608))
            Line((29.39390107, 16.654436608), (29.39390107, 12.454436608))
            ThreePointArc((29.39390107, 12.454436608), (30.419027336, 9.979562874), (32.89390107, 8.954436608))
            Line((32.89390107, 8.954436608), (38.89390107, 8.954436608))
            Line((38.89390107, 8.954436608), (38.89390107, -7.045563392))
            Line((38.89390107, -7.045563392), (32.89390107, -7.045563392))
            ThreePointArc((32.89390107, -7.045563392), (30.419027336, -8.070689657), (29.39390107, -10.545563392))
            Line((29.39390107, -10.545563392), (29.39390107, -15.745563392))
            Line((29.39390107, -15.745563392), (-28.25609893, -15.745563392))
            Line((-28.25609893, -15.745563392), (-28.25609893, -10.545563392))
            ThreePointArc((-28.25609893, -10.545563392), (-29.281225196, -8.070689657), (-31.75609893, -7.045563392))
            Line((-31.75609893, -7.045563392), (-37.75609893, -7.045563392))
            Line((-37.75609893, -7.045563392), (-37.75609893, 8.954436608))
            Line((-37.75609893, 8.954436608), (-31.75609893, 8.954436608))
            ThreePointArc((-31.75609893, 8.954436608), (-29.281225196, 9.979562874), (-28.25609893, 12.454436608))
            Line((-28.25609893, 12.454436608), (-28.25609893, 16.654436608))
        make_face()
    extrude(amount=-CUT_EXTRUDE_5_DEPTH, mode=Mode.SUBTRACT)

    # 草图9 → 切除-拉伸6 (cut, through all)
    with BuildSketch(Plane(origin=(42.89390107, 0, 0), x_dir=(0, 0, -1), z_dir=(1, 0, 0))):
        with Locations((-89.5, 0.954436608)):
            Circle(SKETCH_9_R)
        with Locations((-30, 0.954436608)):
            Circle(SKETCH_9_R)
    extrude(amount=-CUT_EXTRUDE_6_DEPTH, mode=Mode.SUBTRACT)

    # 倒角4
    chamfer_4_edges = [part.edges().sort_by_distance(p)[0] for p in [
        (31.49390107, 12.454436608, 0),
        (31.49390107, -10.545563392, 0),
        (-33.15609893, -10.545563392, 0),
        (0.56890107, 16.654436608, 0),
        (29.39390107, 14.554436608, 0),
        (30.419027336, 9.979562874, 0),
        (35.89390107, 8.954436608, 0),
        (38.89390107, 0.954436608, 0),
        (35.89390107, -7.045563392, 0),
        (30.419027336, -8.070689657, 0),
        (29.39390107, -13.145563392, 0),
        (0.56890107, -15.745563392, 0),
        (-28.25609893, -13.145563392, 0),
        (-29.281225196, -8.070689657, 0),
        (-34.75609893, -7.045563392, 0),
        (-37.75609893, 0.954436608, 0),
        (-34.75609893, 8.954436608, 0),
        (-29.281225196, 9.979562874, 0),
        (-28.25609893, 14.554436608, 0),
        (-33.15609893, 12.454436608, 0),
    ]]
    chamfer(chamfer_4_edges, length=CHAMFER_4_SIZE)

    # 倒角5
    chamfer_5_edges = [part.edges().sort_by_distance(p)[0] for p in [
        (29.39390107, -13.145563392, 4),
        (30.419027336, -8.070689657, 4),
        (35.89390107, -7.045563392, 4),
        (31.49390107, -10.545563392, 4),
        (31.49390107, 12.454436608, 4),
        (29.39390107, 14.554436608, 4),
        (30.419027336, 9.979562874, 4),
        (35.89390107, 8.954436608, 4),
        (-33.15609893, -10.545563392, 4),
        (-28.25609893, -13.145563392, 4),
        (-34.75609893, -7.045563392, 4),
        (-29.281225196, -8.070689657, 4),
        (-34.75609893, 8.954436608, 4),
        (-29.281225196, 9.979562874, 4),
        (-28.25609893, 14.554436608, 4),
        (-33.15609893, 12.454436608, 4),
    ]]
    chamfer(chamfer_5_edges, length=CHAMFER_5_SIZE)


solid = part.part
